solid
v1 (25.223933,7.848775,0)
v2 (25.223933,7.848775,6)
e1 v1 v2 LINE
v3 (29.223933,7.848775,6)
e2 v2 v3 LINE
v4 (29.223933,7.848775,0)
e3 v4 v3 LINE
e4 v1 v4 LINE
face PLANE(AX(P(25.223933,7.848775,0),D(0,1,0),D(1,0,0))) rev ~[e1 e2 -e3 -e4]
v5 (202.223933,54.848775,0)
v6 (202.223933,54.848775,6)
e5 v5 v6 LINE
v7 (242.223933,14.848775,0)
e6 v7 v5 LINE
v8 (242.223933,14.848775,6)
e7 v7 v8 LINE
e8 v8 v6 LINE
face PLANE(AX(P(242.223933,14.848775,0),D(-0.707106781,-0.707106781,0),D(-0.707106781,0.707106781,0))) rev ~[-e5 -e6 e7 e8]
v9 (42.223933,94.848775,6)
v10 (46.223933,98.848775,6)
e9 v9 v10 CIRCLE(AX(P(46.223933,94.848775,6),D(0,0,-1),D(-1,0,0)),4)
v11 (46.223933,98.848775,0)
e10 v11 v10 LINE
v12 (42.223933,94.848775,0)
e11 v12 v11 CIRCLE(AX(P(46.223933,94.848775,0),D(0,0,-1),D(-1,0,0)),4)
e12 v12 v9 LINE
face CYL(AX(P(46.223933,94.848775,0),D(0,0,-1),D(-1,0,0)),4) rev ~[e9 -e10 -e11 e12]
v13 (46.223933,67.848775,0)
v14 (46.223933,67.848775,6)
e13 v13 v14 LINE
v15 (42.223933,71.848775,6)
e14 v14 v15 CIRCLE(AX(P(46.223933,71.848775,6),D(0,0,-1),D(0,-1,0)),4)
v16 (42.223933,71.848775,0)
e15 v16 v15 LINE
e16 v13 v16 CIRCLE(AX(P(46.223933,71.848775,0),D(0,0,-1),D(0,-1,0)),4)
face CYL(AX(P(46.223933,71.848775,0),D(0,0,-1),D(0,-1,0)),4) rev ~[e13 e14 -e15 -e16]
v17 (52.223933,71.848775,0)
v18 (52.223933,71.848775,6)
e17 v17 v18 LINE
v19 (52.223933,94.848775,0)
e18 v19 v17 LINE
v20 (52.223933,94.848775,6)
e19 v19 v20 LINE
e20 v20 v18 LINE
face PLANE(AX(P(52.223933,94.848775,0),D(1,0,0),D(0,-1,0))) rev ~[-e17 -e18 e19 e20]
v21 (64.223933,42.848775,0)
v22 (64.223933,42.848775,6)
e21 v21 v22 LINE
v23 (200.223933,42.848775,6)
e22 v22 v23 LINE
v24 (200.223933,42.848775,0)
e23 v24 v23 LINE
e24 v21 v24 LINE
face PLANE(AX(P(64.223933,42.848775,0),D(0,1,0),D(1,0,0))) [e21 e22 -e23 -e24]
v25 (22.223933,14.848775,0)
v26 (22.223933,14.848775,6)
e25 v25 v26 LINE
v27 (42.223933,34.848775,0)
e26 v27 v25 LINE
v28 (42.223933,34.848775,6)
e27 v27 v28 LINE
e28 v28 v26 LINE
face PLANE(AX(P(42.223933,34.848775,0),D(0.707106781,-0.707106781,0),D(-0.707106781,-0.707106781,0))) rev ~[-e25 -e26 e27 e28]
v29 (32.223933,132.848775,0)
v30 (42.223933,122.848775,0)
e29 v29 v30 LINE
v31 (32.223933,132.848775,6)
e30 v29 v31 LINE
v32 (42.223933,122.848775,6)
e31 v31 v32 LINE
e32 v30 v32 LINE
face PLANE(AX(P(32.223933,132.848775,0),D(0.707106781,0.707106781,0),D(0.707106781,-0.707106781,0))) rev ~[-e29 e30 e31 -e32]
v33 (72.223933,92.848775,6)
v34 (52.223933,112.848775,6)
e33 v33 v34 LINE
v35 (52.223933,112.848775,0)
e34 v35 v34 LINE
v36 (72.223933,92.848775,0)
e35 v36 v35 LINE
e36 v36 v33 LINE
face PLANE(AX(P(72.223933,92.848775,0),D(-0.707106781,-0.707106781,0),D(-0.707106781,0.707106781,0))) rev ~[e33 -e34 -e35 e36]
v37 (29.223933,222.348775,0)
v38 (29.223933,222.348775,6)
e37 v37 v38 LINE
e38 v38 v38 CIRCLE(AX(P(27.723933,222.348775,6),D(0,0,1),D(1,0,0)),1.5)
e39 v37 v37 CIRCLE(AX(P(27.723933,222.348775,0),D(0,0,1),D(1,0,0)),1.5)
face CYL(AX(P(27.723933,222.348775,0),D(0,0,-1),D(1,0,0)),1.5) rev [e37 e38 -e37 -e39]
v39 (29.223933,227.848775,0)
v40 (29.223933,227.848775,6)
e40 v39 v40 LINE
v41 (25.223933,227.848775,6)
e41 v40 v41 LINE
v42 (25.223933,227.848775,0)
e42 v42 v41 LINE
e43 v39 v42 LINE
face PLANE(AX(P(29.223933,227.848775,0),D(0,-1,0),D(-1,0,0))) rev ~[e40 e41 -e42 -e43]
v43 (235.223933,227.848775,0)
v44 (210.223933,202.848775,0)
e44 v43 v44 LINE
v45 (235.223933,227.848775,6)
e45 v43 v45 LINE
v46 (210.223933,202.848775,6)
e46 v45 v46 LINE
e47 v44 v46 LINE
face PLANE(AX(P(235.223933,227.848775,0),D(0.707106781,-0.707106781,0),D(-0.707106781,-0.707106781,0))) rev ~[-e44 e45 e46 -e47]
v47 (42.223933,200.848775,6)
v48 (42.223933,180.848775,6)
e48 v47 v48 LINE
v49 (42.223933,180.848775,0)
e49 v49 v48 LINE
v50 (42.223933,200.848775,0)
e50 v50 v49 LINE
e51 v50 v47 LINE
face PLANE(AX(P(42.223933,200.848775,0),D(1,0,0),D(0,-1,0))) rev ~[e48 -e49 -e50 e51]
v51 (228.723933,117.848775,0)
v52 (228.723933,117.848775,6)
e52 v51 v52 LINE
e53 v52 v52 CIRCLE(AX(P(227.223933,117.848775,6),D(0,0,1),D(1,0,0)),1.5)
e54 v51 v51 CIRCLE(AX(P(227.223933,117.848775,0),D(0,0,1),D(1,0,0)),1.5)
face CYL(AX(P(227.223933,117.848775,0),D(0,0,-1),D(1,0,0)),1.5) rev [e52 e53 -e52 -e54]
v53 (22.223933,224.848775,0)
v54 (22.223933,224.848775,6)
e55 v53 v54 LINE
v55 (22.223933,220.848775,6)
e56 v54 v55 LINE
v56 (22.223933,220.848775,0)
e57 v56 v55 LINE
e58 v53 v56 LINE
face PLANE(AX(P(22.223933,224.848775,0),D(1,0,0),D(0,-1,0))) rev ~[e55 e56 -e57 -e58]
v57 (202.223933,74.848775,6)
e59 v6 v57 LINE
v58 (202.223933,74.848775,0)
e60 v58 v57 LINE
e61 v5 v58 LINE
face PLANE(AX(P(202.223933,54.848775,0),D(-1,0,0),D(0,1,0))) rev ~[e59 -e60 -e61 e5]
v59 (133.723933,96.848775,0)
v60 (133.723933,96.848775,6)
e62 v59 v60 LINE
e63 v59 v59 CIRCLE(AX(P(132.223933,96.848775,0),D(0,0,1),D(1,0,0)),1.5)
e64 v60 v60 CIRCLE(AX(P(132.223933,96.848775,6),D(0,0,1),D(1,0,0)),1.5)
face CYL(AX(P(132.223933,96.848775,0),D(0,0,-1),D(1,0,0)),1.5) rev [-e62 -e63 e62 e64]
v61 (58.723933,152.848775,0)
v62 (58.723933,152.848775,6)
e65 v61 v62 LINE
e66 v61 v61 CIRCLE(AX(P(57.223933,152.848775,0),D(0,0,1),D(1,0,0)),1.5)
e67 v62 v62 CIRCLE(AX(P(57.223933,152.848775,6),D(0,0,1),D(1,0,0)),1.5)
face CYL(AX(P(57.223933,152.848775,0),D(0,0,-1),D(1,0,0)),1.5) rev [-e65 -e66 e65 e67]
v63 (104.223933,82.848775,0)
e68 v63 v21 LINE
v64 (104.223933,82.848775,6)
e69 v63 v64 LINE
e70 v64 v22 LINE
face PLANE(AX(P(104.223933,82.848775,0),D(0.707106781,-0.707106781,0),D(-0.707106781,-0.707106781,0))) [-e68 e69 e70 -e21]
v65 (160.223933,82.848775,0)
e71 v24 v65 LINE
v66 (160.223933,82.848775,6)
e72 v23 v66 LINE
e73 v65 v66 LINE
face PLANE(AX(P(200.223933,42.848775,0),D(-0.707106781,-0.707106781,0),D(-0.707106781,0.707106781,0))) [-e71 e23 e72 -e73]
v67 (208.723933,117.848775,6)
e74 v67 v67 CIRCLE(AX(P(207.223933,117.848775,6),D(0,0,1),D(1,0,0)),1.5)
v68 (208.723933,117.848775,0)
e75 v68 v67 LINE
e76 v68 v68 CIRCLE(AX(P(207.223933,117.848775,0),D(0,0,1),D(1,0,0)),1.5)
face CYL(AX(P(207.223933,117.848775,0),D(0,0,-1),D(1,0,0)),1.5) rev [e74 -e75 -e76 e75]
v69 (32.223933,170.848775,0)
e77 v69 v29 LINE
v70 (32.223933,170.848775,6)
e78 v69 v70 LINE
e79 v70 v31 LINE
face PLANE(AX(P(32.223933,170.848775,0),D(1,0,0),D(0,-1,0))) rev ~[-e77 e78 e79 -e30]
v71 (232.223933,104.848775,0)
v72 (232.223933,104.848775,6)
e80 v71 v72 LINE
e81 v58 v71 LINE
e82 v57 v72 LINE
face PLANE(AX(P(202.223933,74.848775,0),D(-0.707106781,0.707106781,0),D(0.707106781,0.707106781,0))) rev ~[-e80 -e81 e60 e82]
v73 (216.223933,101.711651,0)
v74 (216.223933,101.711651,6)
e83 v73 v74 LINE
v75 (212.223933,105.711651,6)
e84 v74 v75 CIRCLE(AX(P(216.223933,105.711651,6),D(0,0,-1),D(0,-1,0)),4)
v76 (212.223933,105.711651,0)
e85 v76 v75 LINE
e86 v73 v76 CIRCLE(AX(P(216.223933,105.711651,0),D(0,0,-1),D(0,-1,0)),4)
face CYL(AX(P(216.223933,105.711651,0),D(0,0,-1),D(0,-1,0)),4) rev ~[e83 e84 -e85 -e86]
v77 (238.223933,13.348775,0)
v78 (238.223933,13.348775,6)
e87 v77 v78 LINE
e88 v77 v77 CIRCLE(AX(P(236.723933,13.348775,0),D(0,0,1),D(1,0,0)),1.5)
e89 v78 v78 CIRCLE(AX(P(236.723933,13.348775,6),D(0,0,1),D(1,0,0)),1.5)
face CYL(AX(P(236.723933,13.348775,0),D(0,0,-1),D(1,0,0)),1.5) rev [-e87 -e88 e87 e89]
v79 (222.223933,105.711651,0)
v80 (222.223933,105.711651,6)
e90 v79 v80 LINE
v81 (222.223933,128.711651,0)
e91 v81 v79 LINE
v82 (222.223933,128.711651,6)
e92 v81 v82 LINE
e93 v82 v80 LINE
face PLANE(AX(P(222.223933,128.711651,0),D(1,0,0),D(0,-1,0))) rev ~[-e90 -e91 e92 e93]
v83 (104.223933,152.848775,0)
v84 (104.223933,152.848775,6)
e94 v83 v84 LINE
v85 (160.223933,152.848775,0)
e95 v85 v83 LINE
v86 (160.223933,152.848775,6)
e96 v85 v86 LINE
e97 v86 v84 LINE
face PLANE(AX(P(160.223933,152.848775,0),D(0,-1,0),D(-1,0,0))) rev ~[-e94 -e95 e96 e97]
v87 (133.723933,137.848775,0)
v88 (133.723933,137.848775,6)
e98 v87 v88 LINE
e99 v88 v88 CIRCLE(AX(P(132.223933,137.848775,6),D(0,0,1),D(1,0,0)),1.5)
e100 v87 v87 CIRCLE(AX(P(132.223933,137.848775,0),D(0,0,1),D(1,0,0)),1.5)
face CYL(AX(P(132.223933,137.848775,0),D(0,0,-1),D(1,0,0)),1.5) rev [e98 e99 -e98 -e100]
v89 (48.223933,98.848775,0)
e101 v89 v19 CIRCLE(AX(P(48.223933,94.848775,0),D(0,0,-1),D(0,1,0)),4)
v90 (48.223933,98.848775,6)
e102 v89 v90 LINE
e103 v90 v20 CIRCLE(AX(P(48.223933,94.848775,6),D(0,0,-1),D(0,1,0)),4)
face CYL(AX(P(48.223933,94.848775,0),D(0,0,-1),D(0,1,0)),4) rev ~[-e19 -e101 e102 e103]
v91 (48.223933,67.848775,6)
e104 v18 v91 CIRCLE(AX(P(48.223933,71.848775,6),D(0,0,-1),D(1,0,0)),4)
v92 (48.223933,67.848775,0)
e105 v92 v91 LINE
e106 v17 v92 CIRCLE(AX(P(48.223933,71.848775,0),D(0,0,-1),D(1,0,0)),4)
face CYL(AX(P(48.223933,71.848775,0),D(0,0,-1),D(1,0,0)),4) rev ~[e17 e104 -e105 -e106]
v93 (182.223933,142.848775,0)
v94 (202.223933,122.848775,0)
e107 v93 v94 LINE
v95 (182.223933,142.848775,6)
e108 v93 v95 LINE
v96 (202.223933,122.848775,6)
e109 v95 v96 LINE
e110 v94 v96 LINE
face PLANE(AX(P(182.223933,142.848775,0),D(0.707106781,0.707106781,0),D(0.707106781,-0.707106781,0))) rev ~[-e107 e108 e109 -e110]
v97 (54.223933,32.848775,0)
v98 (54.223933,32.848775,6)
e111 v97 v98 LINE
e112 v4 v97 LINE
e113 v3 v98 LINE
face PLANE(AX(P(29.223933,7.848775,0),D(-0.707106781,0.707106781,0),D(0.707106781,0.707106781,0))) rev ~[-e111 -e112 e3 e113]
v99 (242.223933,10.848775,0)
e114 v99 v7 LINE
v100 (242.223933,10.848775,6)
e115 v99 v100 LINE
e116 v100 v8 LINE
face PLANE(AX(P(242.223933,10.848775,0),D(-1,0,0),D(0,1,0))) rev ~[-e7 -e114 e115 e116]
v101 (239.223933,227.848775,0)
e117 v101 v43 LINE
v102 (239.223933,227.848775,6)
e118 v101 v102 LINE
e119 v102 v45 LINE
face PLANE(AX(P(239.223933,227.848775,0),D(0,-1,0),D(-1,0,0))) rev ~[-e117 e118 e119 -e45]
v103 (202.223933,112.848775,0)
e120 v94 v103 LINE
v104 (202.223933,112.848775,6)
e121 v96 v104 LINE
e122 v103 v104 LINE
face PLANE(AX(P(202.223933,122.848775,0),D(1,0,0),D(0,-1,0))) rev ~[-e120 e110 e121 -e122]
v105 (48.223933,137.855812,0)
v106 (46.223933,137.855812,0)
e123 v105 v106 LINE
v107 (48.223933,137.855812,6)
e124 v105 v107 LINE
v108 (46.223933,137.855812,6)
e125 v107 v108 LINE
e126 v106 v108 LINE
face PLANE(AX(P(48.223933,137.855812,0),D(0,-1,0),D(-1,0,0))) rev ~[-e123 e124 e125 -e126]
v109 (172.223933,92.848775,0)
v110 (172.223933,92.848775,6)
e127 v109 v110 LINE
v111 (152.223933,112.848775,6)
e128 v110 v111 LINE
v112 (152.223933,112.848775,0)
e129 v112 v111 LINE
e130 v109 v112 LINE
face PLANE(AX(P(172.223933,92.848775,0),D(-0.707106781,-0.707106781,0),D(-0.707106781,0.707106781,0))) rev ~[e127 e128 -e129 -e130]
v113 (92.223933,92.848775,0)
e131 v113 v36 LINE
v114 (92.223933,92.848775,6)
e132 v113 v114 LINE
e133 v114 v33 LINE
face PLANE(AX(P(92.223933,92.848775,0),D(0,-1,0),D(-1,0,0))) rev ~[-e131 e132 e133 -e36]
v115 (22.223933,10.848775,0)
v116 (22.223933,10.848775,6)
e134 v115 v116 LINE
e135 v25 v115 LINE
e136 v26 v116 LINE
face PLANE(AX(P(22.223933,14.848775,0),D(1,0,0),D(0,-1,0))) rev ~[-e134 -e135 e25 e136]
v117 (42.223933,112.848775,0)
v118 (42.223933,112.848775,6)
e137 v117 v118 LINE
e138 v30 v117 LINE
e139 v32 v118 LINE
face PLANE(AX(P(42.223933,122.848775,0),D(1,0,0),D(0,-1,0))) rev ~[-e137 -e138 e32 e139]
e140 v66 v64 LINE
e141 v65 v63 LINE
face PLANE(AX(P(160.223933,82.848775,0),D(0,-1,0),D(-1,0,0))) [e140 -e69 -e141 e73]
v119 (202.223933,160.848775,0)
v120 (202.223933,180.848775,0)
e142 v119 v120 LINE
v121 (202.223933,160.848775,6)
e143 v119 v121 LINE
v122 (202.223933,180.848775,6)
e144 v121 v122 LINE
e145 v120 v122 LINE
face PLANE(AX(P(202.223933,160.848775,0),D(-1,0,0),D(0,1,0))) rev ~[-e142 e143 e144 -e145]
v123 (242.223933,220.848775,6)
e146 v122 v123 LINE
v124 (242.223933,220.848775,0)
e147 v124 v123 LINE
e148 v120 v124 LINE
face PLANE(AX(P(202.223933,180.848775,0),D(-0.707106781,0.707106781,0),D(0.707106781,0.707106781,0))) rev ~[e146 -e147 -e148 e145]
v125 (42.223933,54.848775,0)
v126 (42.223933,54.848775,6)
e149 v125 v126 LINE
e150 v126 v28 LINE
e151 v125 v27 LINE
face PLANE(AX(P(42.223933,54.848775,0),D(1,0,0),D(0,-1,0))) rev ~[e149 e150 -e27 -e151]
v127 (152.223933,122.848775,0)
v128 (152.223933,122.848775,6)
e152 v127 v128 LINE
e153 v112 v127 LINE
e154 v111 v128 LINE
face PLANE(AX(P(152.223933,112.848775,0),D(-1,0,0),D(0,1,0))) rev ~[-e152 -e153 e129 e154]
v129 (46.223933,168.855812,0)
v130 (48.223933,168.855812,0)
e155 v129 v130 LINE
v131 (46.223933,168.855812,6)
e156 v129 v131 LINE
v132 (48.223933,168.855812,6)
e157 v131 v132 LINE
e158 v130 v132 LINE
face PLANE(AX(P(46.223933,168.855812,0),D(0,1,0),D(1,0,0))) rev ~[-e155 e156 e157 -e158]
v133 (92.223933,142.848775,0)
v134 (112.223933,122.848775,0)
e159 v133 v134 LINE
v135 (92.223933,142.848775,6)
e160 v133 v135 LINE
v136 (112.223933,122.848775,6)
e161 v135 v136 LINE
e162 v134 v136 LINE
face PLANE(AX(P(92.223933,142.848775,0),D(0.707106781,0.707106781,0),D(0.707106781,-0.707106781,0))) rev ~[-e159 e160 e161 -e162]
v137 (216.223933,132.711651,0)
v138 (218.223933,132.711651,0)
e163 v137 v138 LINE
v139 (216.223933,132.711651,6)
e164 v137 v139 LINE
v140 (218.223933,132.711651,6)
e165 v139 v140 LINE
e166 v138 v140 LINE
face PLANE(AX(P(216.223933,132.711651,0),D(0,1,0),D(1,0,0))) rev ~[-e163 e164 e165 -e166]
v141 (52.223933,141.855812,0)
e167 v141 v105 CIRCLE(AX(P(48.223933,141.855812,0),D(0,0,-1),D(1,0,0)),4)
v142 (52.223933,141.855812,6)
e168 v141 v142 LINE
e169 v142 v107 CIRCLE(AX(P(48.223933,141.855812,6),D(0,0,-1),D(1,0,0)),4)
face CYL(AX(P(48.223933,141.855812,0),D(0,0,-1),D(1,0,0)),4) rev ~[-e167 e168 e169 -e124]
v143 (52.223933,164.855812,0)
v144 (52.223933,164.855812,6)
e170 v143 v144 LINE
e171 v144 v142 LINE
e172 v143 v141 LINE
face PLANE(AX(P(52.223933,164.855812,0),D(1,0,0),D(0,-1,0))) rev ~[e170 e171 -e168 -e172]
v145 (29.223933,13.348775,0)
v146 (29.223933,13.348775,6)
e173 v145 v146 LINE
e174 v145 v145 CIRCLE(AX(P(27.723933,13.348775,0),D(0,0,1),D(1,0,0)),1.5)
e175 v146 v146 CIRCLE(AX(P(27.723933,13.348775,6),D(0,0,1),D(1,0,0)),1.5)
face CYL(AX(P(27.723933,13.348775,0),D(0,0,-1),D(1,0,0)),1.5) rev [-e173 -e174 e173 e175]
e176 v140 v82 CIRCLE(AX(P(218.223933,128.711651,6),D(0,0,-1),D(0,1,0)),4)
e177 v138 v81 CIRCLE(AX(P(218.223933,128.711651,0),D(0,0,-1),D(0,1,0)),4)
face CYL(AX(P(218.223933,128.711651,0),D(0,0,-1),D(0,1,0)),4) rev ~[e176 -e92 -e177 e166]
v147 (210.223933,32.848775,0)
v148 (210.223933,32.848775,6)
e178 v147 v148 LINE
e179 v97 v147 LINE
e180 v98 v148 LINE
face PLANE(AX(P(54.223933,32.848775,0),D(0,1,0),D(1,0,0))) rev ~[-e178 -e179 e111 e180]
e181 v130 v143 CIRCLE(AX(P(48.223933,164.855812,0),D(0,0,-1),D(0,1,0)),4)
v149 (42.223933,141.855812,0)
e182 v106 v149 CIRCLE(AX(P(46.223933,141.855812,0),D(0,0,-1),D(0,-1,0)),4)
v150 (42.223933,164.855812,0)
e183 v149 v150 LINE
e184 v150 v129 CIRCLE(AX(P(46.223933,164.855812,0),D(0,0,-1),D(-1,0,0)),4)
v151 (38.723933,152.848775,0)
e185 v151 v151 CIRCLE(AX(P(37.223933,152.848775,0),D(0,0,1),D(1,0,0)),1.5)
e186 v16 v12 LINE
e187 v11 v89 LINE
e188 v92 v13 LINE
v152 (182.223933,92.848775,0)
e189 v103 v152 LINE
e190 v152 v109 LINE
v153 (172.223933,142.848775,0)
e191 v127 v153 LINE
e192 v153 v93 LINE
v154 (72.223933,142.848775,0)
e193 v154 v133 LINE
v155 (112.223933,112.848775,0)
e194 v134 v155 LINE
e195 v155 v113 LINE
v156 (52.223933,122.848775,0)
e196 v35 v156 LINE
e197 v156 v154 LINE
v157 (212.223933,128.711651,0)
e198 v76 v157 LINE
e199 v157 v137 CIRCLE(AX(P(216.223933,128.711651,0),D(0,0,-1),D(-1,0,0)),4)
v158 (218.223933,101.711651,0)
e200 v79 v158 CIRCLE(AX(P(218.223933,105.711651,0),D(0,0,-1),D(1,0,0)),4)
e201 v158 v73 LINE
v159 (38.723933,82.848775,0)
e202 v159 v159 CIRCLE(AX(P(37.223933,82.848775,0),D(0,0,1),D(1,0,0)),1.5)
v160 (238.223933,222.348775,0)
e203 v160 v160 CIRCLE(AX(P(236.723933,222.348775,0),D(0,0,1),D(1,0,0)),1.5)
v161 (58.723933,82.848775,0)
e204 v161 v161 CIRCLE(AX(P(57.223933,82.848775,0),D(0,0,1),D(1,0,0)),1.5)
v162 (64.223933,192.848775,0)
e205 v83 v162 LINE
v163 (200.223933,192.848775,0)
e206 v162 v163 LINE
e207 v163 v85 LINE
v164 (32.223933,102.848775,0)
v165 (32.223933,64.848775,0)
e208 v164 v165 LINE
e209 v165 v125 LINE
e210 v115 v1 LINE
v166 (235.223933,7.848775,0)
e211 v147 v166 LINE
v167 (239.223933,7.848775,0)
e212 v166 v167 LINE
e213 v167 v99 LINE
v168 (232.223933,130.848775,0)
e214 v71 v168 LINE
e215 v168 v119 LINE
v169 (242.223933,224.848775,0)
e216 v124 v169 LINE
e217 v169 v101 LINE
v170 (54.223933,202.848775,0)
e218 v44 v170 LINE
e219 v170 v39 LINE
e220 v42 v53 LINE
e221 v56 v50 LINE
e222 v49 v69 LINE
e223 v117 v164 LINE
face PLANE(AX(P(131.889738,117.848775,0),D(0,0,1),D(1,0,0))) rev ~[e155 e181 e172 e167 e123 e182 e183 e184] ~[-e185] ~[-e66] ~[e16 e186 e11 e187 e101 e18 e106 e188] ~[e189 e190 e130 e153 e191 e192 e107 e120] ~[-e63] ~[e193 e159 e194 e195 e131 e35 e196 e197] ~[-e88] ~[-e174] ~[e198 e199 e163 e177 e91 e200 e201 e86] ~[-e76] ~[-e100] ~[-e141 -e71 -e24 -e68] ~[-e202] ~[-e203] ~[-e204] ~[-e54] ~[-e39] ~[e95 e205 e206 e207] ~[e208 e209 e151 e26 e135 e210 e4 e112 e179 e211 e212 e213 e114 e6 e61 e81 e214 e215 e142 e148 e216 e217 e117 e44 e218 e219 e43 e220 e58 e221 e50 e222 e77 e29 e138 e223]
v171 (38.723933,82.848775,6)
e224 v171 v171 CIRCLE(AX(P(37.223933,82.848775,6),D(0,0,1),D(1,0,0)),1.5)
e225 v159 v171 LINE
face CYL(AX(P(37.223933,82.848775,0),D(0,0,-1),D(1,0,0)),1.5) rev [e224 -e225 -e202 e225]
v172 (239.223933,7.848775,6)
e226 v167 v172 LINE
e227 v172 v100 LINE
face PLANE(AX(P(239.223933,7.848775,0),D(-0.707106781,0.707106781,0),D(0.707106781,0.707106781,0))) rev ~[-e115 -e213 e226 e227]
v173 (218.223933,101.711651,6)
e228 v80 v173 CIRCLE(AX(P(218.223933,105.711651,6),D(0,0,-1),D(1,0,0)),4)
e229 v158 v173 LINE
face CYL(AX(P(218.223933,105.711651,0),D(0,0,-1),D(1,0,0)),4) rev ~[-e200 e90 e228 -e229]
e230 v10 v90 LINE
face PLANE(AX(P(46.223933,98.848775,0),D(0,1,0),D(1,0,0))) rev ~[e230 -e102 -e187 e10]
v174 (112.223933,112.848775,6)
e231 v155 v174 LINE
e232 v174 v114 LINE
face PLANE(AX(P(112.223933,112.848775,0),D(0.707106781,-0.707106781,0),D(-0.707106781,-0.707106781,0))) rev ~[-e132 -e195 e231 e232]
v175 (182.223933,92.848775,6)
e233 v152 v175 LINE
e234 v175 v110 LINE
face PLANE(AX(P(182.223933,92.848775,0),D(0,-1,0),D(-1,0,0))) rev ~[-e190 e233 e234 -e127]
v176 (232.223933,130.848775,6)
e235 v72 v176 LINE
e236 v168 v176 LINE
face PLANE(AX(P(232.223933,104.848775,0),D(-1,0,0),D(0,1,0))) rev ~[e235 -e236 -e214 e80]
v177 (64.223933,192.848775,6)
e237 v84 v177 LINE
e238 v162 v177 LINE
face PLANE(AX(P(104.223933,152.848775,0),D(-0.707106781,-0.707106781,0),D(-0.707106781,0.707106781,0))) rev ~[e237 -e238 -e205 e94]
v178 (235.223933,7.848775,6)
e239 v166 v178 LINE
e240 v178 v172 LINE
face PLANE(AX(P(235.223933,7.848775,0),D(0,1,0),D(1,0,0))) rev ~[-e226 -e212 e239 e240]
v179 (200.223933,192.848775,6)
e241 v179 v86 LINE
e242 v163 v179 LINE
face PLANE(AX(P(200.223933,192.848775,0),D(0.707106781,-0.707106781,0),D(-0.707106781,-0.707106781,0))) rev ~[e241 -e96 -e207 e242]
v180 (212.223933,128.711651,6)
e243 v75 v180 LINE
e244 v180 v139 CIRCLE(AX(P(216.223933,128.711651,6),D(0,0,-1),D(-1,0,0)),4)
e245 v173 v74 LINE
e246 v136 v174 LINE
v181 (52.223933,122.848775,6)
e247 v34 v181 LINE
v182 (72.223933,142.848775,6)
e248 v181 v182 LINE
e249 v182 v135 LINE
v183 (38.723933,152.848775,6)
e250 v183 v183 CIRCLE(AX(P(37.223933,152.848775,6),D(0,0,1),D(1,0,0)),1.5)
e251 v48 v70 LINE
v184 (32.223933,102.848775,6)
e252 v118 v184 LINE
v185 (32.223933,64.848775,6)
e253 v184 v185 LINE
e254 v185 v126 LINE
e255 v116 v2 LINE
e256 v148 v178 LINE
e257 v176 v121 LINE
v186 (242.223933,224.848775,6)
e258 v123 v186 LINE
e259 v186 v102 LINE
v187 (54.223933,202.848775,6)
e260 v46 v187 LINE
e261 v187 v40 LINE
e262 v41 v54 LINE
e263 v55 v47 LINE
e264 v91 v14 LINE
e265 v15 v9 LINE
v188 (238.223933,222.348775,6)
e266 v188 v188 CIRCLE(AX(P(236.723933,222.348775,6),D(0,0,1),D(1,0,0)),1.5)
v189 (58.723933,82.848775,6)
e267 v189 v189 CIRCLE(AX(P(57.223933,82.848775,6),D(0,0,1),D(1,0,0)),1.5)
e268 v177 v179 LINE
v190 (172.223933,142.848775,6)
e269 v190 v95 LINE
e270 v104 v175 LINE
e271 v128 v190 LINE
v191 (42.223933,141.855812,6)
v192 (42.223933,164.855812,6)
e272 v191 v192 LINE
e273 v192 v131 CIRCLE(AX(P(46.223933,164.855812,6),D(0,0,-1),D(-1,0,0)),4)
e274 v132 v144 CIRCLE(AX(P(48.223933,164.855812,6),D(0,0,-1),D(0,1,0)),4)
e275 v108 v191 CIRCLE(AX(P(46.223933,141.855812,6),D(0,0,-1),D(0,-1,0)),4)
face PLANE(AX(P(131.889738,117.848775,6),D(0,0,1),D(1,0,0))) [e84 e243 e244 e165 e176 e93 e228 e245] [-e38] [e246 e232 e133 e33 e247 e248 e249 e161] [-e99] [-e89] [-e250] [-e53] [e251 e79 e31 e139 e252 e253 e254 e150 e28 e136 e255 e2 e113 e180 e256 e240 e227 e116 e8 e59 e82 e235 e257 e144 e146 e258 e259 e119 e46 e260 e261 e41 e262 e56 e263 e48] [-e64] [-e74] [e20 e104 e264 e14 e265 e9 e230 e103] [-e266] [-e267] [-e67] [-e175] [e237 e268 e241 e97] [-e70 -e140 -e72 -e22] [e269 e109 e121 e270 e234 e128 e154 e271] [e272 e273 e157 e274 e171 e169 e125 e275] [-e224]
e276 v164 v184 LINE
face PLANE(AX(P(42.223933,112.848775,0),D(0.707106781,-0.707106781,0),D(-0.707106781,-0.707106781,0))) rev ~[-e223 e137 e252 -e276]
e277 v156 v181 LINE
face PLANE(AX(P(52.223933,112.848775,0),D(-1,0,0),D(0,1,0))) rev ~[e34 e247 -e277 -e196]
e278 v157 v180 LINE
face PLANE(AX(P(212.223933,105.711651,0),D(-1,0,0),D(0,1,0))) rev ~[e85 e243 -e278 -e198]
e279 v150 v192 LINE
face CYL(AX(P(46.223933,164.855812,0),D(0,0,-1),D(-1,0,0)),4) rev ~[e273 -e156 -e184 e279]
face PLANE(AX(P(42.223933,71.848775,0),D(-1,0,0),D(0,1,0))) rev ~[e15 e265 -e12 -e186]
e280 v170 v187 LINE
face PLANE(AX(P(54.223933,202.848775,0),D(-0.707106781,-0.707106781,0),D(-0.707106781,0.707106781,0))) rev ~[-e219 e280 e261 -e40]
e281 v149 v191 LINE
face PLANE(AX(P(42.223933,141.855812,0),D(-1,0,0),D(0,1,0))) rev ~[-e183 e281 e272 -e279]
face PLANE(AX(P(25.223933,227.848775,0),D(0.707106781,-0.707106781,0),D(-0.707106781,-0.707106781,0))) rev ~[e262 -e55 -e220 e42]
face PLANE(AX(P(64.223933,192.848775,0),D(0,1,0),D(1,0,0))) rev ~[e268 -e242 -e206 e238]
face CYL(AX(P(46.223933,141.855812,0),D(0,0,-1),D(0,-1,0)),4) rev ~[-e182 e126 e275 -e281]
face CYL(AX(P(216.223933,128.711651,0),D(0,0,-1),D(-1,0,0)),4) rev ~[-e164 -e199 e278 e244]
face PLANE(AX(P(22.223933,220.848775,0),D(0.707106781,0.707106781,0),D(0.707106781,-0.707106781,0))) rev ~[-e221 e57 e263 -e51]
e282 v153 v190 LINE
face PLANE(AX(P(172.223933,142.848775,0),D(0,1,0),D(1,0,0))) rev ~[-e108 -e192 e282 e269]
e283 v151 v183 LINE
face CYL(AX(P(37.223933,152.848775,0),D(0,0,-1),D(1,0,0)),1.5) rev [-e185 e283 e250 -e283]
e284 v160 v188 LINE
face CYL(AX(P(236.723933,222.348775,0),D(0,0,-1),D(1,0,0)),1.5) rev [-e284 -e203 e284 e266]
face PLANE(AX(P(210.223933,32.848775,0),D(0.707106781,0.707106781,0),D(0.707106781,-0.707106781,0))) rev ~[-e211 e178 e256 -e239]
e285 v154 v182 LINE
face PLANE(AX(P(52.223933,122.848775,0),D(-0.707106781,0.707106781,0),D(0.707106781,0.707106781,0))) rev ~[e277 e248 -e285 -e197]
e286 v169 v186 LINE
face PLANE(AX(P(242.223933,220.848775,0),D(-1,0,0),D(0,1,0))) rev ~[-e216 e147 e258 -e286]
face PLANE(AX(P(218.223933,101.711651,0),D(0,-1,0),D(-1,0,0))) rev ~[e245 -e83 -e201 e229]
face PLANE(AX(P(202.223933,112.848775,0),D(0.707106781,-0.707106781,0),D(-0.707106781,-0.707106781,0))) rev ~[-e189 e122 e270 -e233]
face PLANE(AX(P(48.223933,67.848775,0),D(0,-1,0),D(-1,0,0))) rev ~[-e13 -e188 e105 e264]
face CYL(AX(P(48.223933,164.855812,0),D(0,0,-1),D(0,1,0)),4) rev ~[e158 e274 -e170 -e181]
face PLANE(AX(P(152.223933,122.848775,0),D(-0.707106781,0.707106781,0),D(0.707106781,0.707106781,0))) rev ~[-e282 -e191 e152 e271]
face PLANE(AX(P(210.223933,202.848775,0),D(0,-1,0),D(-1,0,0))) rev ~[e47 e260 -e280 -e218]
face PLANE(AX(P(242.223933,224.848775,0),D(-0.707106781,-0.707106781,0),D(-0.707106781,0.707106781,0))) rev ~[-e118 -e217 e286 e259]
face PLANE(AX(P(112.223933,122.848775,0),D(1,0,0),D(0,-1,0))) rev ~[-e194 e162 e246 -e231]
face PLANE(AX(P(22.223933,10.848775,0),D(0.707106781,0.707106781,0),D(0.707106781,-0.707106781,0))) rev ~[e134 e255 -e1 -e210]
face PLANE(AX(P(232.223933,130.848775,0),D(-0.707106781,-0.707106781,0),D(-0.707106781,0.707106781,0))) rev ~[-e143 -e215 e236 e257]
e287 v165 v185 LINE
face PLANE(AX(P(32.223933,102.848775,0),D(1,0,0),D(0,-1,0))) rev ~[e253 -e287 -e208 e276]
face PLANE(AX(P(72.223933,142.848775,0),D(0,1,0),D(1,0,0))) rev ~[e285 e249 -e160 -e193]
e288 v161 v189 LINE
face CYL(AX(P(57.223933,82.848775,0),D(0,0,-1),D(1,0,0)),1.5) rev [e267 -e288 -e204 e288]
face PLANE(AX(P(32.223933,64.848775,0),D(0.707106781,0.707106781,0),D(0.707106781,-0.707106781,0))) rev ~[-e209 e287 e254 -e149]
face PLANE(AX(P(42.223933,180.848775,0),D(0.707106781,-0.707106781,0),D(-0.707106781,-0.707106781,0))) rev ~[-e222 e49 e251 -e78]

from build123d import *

# Parameters (mm, degrees)
MODEL_R                  = 1.5
RESSALTO_EXTRUS_O1_DEPTH = 6


with BuildPart() as part:
    # Model → Ressalto-extrusão1 (new body)
    with BuildSketch(Plane.XY):
        Polygon((27.223932907, 227.848775031), (25.223932907, 227.848775031), (22.223932907, 224.848775031), (22.223932907, 222.848775031), (22.223932907, 220.848775031), (42.223932907, 200.848775031), (42.223932907, 180.848775031), (32.223932907, 170.848775031), (32.223932907, 132.848775031), (42.223932907, 122.848775031), (42.223932907, 112.848775031), (32.223932907, 102.848775031), (32.223932907, 64.848775031), (42.223932907, 54.848775031), (42.223932907, 34.848775031), (22.223932907, 14.848775031), (22.223932907, 10.848775031), (25.223932907, 7.848775031), (27.223932907, 7.848775031), (29.223932907, 7.848775031), (54.223932907, 32.848775031), (210.223932907, 32.848775031), (235.223932907, 7.848775031), (237.223932907, 7.848775031), (239.223932907, 7.848775031), (242.223932907, 10.848775031), (242.223932907, 14.848775031), (222.223932907, 34.848775031), (202.223932907, 54.848775031), (202.223932907, 74.848775031), (222.223932907, 94.848775031), (232.223932907, 104.848775031), (232.223932907, 130.848775031), (222.223932907, 140.848775031), (202.223932907, 160.848775031), (202.223932907, 180.848775031), (242.223932907, 220.848775031), (242.223932907, 223.848775031), (242.223932907, 224.848775031), (239.223932907, 227.848775031), (235.223932907, 227.848775031), (212.223932907, 204.848775031), (210.223932907, 202.848775031), (54.223932907, 202.848775031), (29.223932907, 227.848775031), align=None)
        with Locations((37.223932907, 152.848775031)):
            Circle(MODEL_R, mode=Mode.SUBTRACT)
        with Locations((57.223932907, 152.848775031)):
            Circle(MODEL_R, mode=Mode.SUBTRACT)
        with Locations((37.223932907, 82.848775031)):
            Circle(MODEL_R, mode=Mode.SUBTRACT)
        with Locations((57.223932907, 82.848775031)):
            Circle(MODEL_R, mode=Mode.SUBTRACT)
        with Locations((227.223932907, 117.848775031)):
            Circle(MODEL_R, mode=Mode.SUBTRACT)
        with Locations((207.223932907, 117.848775031)):
            Circle(MODEL_R, mode=Mode.SUBTRACT)
        with Locations((27.723932907, 222.348775031)):
            Circle(MODEL_R, mode=Mode.SUBTRACT)
        with Locations((236.723932907, 13.348775031)):
            Circle(MODEL_R, mode=Mode.SUBTRACT)
        with Locations((236.723932907, 222.348775031)):
            Circle(MODEL_R, mode=Mode.SUBTRACT)
        with Locations((27.723932907, 13.348775031)):
            Circle(MODEL_R, mode=Mode.SUBTRACT)
        with Locations((132.223932907, 96.848775031)):
            Circle(MODEL_R, mode=Mode.SUBTRACT)
        with Locations((132.223932907, 137.848775031)):
            Circle(MODEL_R, mode=Mode.SUBTRACT)
        Polygon((172.223932907, 164.848775031), (170.223932907, 162.848775031), (160.223932907, 152.848775031), (104.223932907, 152.848775031), (64.223932907, 192.848775031), (200.223932907, 192.848775031), align=None, mode=Mode.SUBTRACT)
        Polygon((160.223932907, 82.848775031), (104.223932907, 82.848775031), (64.223932907, 42.848775031), (200.223932907, 42.848775031), align=None, mode=Mode.SUBTRACT)
        Polygon((52.223932907, 122.848775031), (72.223932907, 142.848775031), (92.223932907, 142.848775031), (112.223932907, 122.848775031), (112.223932907, 112.848775031), (92.223932907, 92.848775031), (72.223932907, 92.848775031), (52.223932907, 112.848775031), align=None, mode=Mode.SUBTRACT)
        Polygon((182.223932907, 142.848775031), (202.223932907, 122.848775031), (202.223932907, 112.848775031), (182.223932907, 92.848775031), (172.223932907, 92.848775031), (152.223932907, 112.848775031), (152.223932907, 122.848775031), (172.223932907, 142.848775031), align=None, mode=Mode.SUBTRACT)
        with BuildLine():
            Line((42.223932907, 71.848775031), (42.223932907, 94.848775031))
            ThreePointArc((42.223932907, 94.848775031), (43.395505782, 97.677202156), (46.223932907, 98.848775031))
            Line((46.223932907, 98.848775031), (48.223932907, 98.848775031))
            ThreePointArc((48.223932907, 98.848775031), (51.052360031, 97.677202156), (52.223932907, 94.848775031))
            Line((52.223932907, 94.848775031), (52.223932907, 71.848775031))
            ThreePointArc((52.223932907, 71.848775031), (51.052360031, 69.020347906), (48.223932907, 67.848775031))
            Line((48.223932907, 67.848775031), (46.223932907, 67.848775031))
            ThreePointArc((46.223932907, 67.848775031), (43.395505782, 69.020347906), (42.223932907, 71.848775031))
        make_face(mode=Mode.SUBTRACT)
        with BuildLine():
            Line((42.223932907, 141.855811927), (42.223932907, 164.855811927))
            ThreePointArc((42.223932907, 164.855811927), (43.395505782, 167.684239052), (46.223932907, 168.855811927))
            Line((46.223932907, 168.855811927), (48.223932907, 168.855811927))
            ThreePointArc((48.223932907, 168.855811927), (51.052360031, 167.684239052), (52.223932907, 164.855811927))
            Line((52.223932907, 164.855811927), (52.223932907, 141.855811927))
            ThreePointArc((52.223932907, 141.855811927), (51.052360031, 139.027384802), (48.223932907, 137.855811927))
            Line((48.223932907, 137.855811927), (46.223932907, 137.855811927))
            ThreePointArc((46.223932907, 137.855811927), (43.395505782, 139.027384802), (42.223932907, 141.855811927))
        make_face(mode=Mode.SUBTRACT)
        with BuildLine():
            Line((212.223932907, 105.711651424), (212.223932907, 128.711651424))
            ThreePointArc((212.223932907, 128.711651424), (213.395505782, 131.540078549), (216.223932907, 132.711651424))
            Line((216.223932907, 132.711651424), (218.223932907, 132.711651424))
            ThreePointArc((218.223932907, 132.711651424), (221.052360031, 131.540078549), (222.223932907, 128.711651424))
            Line((222.223932907, 128.711651424), (222.223932907, 105.711651424))
            ThreePointArc((222.223932907, 105.711651424), (221.052360031, 102.883224299), (218.223932907, 101.711651424))
            Line((218.223932907, 101.711651424), (216.223932907, 101.711651424))
            ThreePointArc((216.223932907, 101.711651424), (213.395505782, 102.883224299), (212.223932907, 105.711651424))
        make_face(mode=Mode.SUBTRACT)
    extrude(amount=RESSALTO_EXTRUS_O1_DEPTH)


solid = part.part
